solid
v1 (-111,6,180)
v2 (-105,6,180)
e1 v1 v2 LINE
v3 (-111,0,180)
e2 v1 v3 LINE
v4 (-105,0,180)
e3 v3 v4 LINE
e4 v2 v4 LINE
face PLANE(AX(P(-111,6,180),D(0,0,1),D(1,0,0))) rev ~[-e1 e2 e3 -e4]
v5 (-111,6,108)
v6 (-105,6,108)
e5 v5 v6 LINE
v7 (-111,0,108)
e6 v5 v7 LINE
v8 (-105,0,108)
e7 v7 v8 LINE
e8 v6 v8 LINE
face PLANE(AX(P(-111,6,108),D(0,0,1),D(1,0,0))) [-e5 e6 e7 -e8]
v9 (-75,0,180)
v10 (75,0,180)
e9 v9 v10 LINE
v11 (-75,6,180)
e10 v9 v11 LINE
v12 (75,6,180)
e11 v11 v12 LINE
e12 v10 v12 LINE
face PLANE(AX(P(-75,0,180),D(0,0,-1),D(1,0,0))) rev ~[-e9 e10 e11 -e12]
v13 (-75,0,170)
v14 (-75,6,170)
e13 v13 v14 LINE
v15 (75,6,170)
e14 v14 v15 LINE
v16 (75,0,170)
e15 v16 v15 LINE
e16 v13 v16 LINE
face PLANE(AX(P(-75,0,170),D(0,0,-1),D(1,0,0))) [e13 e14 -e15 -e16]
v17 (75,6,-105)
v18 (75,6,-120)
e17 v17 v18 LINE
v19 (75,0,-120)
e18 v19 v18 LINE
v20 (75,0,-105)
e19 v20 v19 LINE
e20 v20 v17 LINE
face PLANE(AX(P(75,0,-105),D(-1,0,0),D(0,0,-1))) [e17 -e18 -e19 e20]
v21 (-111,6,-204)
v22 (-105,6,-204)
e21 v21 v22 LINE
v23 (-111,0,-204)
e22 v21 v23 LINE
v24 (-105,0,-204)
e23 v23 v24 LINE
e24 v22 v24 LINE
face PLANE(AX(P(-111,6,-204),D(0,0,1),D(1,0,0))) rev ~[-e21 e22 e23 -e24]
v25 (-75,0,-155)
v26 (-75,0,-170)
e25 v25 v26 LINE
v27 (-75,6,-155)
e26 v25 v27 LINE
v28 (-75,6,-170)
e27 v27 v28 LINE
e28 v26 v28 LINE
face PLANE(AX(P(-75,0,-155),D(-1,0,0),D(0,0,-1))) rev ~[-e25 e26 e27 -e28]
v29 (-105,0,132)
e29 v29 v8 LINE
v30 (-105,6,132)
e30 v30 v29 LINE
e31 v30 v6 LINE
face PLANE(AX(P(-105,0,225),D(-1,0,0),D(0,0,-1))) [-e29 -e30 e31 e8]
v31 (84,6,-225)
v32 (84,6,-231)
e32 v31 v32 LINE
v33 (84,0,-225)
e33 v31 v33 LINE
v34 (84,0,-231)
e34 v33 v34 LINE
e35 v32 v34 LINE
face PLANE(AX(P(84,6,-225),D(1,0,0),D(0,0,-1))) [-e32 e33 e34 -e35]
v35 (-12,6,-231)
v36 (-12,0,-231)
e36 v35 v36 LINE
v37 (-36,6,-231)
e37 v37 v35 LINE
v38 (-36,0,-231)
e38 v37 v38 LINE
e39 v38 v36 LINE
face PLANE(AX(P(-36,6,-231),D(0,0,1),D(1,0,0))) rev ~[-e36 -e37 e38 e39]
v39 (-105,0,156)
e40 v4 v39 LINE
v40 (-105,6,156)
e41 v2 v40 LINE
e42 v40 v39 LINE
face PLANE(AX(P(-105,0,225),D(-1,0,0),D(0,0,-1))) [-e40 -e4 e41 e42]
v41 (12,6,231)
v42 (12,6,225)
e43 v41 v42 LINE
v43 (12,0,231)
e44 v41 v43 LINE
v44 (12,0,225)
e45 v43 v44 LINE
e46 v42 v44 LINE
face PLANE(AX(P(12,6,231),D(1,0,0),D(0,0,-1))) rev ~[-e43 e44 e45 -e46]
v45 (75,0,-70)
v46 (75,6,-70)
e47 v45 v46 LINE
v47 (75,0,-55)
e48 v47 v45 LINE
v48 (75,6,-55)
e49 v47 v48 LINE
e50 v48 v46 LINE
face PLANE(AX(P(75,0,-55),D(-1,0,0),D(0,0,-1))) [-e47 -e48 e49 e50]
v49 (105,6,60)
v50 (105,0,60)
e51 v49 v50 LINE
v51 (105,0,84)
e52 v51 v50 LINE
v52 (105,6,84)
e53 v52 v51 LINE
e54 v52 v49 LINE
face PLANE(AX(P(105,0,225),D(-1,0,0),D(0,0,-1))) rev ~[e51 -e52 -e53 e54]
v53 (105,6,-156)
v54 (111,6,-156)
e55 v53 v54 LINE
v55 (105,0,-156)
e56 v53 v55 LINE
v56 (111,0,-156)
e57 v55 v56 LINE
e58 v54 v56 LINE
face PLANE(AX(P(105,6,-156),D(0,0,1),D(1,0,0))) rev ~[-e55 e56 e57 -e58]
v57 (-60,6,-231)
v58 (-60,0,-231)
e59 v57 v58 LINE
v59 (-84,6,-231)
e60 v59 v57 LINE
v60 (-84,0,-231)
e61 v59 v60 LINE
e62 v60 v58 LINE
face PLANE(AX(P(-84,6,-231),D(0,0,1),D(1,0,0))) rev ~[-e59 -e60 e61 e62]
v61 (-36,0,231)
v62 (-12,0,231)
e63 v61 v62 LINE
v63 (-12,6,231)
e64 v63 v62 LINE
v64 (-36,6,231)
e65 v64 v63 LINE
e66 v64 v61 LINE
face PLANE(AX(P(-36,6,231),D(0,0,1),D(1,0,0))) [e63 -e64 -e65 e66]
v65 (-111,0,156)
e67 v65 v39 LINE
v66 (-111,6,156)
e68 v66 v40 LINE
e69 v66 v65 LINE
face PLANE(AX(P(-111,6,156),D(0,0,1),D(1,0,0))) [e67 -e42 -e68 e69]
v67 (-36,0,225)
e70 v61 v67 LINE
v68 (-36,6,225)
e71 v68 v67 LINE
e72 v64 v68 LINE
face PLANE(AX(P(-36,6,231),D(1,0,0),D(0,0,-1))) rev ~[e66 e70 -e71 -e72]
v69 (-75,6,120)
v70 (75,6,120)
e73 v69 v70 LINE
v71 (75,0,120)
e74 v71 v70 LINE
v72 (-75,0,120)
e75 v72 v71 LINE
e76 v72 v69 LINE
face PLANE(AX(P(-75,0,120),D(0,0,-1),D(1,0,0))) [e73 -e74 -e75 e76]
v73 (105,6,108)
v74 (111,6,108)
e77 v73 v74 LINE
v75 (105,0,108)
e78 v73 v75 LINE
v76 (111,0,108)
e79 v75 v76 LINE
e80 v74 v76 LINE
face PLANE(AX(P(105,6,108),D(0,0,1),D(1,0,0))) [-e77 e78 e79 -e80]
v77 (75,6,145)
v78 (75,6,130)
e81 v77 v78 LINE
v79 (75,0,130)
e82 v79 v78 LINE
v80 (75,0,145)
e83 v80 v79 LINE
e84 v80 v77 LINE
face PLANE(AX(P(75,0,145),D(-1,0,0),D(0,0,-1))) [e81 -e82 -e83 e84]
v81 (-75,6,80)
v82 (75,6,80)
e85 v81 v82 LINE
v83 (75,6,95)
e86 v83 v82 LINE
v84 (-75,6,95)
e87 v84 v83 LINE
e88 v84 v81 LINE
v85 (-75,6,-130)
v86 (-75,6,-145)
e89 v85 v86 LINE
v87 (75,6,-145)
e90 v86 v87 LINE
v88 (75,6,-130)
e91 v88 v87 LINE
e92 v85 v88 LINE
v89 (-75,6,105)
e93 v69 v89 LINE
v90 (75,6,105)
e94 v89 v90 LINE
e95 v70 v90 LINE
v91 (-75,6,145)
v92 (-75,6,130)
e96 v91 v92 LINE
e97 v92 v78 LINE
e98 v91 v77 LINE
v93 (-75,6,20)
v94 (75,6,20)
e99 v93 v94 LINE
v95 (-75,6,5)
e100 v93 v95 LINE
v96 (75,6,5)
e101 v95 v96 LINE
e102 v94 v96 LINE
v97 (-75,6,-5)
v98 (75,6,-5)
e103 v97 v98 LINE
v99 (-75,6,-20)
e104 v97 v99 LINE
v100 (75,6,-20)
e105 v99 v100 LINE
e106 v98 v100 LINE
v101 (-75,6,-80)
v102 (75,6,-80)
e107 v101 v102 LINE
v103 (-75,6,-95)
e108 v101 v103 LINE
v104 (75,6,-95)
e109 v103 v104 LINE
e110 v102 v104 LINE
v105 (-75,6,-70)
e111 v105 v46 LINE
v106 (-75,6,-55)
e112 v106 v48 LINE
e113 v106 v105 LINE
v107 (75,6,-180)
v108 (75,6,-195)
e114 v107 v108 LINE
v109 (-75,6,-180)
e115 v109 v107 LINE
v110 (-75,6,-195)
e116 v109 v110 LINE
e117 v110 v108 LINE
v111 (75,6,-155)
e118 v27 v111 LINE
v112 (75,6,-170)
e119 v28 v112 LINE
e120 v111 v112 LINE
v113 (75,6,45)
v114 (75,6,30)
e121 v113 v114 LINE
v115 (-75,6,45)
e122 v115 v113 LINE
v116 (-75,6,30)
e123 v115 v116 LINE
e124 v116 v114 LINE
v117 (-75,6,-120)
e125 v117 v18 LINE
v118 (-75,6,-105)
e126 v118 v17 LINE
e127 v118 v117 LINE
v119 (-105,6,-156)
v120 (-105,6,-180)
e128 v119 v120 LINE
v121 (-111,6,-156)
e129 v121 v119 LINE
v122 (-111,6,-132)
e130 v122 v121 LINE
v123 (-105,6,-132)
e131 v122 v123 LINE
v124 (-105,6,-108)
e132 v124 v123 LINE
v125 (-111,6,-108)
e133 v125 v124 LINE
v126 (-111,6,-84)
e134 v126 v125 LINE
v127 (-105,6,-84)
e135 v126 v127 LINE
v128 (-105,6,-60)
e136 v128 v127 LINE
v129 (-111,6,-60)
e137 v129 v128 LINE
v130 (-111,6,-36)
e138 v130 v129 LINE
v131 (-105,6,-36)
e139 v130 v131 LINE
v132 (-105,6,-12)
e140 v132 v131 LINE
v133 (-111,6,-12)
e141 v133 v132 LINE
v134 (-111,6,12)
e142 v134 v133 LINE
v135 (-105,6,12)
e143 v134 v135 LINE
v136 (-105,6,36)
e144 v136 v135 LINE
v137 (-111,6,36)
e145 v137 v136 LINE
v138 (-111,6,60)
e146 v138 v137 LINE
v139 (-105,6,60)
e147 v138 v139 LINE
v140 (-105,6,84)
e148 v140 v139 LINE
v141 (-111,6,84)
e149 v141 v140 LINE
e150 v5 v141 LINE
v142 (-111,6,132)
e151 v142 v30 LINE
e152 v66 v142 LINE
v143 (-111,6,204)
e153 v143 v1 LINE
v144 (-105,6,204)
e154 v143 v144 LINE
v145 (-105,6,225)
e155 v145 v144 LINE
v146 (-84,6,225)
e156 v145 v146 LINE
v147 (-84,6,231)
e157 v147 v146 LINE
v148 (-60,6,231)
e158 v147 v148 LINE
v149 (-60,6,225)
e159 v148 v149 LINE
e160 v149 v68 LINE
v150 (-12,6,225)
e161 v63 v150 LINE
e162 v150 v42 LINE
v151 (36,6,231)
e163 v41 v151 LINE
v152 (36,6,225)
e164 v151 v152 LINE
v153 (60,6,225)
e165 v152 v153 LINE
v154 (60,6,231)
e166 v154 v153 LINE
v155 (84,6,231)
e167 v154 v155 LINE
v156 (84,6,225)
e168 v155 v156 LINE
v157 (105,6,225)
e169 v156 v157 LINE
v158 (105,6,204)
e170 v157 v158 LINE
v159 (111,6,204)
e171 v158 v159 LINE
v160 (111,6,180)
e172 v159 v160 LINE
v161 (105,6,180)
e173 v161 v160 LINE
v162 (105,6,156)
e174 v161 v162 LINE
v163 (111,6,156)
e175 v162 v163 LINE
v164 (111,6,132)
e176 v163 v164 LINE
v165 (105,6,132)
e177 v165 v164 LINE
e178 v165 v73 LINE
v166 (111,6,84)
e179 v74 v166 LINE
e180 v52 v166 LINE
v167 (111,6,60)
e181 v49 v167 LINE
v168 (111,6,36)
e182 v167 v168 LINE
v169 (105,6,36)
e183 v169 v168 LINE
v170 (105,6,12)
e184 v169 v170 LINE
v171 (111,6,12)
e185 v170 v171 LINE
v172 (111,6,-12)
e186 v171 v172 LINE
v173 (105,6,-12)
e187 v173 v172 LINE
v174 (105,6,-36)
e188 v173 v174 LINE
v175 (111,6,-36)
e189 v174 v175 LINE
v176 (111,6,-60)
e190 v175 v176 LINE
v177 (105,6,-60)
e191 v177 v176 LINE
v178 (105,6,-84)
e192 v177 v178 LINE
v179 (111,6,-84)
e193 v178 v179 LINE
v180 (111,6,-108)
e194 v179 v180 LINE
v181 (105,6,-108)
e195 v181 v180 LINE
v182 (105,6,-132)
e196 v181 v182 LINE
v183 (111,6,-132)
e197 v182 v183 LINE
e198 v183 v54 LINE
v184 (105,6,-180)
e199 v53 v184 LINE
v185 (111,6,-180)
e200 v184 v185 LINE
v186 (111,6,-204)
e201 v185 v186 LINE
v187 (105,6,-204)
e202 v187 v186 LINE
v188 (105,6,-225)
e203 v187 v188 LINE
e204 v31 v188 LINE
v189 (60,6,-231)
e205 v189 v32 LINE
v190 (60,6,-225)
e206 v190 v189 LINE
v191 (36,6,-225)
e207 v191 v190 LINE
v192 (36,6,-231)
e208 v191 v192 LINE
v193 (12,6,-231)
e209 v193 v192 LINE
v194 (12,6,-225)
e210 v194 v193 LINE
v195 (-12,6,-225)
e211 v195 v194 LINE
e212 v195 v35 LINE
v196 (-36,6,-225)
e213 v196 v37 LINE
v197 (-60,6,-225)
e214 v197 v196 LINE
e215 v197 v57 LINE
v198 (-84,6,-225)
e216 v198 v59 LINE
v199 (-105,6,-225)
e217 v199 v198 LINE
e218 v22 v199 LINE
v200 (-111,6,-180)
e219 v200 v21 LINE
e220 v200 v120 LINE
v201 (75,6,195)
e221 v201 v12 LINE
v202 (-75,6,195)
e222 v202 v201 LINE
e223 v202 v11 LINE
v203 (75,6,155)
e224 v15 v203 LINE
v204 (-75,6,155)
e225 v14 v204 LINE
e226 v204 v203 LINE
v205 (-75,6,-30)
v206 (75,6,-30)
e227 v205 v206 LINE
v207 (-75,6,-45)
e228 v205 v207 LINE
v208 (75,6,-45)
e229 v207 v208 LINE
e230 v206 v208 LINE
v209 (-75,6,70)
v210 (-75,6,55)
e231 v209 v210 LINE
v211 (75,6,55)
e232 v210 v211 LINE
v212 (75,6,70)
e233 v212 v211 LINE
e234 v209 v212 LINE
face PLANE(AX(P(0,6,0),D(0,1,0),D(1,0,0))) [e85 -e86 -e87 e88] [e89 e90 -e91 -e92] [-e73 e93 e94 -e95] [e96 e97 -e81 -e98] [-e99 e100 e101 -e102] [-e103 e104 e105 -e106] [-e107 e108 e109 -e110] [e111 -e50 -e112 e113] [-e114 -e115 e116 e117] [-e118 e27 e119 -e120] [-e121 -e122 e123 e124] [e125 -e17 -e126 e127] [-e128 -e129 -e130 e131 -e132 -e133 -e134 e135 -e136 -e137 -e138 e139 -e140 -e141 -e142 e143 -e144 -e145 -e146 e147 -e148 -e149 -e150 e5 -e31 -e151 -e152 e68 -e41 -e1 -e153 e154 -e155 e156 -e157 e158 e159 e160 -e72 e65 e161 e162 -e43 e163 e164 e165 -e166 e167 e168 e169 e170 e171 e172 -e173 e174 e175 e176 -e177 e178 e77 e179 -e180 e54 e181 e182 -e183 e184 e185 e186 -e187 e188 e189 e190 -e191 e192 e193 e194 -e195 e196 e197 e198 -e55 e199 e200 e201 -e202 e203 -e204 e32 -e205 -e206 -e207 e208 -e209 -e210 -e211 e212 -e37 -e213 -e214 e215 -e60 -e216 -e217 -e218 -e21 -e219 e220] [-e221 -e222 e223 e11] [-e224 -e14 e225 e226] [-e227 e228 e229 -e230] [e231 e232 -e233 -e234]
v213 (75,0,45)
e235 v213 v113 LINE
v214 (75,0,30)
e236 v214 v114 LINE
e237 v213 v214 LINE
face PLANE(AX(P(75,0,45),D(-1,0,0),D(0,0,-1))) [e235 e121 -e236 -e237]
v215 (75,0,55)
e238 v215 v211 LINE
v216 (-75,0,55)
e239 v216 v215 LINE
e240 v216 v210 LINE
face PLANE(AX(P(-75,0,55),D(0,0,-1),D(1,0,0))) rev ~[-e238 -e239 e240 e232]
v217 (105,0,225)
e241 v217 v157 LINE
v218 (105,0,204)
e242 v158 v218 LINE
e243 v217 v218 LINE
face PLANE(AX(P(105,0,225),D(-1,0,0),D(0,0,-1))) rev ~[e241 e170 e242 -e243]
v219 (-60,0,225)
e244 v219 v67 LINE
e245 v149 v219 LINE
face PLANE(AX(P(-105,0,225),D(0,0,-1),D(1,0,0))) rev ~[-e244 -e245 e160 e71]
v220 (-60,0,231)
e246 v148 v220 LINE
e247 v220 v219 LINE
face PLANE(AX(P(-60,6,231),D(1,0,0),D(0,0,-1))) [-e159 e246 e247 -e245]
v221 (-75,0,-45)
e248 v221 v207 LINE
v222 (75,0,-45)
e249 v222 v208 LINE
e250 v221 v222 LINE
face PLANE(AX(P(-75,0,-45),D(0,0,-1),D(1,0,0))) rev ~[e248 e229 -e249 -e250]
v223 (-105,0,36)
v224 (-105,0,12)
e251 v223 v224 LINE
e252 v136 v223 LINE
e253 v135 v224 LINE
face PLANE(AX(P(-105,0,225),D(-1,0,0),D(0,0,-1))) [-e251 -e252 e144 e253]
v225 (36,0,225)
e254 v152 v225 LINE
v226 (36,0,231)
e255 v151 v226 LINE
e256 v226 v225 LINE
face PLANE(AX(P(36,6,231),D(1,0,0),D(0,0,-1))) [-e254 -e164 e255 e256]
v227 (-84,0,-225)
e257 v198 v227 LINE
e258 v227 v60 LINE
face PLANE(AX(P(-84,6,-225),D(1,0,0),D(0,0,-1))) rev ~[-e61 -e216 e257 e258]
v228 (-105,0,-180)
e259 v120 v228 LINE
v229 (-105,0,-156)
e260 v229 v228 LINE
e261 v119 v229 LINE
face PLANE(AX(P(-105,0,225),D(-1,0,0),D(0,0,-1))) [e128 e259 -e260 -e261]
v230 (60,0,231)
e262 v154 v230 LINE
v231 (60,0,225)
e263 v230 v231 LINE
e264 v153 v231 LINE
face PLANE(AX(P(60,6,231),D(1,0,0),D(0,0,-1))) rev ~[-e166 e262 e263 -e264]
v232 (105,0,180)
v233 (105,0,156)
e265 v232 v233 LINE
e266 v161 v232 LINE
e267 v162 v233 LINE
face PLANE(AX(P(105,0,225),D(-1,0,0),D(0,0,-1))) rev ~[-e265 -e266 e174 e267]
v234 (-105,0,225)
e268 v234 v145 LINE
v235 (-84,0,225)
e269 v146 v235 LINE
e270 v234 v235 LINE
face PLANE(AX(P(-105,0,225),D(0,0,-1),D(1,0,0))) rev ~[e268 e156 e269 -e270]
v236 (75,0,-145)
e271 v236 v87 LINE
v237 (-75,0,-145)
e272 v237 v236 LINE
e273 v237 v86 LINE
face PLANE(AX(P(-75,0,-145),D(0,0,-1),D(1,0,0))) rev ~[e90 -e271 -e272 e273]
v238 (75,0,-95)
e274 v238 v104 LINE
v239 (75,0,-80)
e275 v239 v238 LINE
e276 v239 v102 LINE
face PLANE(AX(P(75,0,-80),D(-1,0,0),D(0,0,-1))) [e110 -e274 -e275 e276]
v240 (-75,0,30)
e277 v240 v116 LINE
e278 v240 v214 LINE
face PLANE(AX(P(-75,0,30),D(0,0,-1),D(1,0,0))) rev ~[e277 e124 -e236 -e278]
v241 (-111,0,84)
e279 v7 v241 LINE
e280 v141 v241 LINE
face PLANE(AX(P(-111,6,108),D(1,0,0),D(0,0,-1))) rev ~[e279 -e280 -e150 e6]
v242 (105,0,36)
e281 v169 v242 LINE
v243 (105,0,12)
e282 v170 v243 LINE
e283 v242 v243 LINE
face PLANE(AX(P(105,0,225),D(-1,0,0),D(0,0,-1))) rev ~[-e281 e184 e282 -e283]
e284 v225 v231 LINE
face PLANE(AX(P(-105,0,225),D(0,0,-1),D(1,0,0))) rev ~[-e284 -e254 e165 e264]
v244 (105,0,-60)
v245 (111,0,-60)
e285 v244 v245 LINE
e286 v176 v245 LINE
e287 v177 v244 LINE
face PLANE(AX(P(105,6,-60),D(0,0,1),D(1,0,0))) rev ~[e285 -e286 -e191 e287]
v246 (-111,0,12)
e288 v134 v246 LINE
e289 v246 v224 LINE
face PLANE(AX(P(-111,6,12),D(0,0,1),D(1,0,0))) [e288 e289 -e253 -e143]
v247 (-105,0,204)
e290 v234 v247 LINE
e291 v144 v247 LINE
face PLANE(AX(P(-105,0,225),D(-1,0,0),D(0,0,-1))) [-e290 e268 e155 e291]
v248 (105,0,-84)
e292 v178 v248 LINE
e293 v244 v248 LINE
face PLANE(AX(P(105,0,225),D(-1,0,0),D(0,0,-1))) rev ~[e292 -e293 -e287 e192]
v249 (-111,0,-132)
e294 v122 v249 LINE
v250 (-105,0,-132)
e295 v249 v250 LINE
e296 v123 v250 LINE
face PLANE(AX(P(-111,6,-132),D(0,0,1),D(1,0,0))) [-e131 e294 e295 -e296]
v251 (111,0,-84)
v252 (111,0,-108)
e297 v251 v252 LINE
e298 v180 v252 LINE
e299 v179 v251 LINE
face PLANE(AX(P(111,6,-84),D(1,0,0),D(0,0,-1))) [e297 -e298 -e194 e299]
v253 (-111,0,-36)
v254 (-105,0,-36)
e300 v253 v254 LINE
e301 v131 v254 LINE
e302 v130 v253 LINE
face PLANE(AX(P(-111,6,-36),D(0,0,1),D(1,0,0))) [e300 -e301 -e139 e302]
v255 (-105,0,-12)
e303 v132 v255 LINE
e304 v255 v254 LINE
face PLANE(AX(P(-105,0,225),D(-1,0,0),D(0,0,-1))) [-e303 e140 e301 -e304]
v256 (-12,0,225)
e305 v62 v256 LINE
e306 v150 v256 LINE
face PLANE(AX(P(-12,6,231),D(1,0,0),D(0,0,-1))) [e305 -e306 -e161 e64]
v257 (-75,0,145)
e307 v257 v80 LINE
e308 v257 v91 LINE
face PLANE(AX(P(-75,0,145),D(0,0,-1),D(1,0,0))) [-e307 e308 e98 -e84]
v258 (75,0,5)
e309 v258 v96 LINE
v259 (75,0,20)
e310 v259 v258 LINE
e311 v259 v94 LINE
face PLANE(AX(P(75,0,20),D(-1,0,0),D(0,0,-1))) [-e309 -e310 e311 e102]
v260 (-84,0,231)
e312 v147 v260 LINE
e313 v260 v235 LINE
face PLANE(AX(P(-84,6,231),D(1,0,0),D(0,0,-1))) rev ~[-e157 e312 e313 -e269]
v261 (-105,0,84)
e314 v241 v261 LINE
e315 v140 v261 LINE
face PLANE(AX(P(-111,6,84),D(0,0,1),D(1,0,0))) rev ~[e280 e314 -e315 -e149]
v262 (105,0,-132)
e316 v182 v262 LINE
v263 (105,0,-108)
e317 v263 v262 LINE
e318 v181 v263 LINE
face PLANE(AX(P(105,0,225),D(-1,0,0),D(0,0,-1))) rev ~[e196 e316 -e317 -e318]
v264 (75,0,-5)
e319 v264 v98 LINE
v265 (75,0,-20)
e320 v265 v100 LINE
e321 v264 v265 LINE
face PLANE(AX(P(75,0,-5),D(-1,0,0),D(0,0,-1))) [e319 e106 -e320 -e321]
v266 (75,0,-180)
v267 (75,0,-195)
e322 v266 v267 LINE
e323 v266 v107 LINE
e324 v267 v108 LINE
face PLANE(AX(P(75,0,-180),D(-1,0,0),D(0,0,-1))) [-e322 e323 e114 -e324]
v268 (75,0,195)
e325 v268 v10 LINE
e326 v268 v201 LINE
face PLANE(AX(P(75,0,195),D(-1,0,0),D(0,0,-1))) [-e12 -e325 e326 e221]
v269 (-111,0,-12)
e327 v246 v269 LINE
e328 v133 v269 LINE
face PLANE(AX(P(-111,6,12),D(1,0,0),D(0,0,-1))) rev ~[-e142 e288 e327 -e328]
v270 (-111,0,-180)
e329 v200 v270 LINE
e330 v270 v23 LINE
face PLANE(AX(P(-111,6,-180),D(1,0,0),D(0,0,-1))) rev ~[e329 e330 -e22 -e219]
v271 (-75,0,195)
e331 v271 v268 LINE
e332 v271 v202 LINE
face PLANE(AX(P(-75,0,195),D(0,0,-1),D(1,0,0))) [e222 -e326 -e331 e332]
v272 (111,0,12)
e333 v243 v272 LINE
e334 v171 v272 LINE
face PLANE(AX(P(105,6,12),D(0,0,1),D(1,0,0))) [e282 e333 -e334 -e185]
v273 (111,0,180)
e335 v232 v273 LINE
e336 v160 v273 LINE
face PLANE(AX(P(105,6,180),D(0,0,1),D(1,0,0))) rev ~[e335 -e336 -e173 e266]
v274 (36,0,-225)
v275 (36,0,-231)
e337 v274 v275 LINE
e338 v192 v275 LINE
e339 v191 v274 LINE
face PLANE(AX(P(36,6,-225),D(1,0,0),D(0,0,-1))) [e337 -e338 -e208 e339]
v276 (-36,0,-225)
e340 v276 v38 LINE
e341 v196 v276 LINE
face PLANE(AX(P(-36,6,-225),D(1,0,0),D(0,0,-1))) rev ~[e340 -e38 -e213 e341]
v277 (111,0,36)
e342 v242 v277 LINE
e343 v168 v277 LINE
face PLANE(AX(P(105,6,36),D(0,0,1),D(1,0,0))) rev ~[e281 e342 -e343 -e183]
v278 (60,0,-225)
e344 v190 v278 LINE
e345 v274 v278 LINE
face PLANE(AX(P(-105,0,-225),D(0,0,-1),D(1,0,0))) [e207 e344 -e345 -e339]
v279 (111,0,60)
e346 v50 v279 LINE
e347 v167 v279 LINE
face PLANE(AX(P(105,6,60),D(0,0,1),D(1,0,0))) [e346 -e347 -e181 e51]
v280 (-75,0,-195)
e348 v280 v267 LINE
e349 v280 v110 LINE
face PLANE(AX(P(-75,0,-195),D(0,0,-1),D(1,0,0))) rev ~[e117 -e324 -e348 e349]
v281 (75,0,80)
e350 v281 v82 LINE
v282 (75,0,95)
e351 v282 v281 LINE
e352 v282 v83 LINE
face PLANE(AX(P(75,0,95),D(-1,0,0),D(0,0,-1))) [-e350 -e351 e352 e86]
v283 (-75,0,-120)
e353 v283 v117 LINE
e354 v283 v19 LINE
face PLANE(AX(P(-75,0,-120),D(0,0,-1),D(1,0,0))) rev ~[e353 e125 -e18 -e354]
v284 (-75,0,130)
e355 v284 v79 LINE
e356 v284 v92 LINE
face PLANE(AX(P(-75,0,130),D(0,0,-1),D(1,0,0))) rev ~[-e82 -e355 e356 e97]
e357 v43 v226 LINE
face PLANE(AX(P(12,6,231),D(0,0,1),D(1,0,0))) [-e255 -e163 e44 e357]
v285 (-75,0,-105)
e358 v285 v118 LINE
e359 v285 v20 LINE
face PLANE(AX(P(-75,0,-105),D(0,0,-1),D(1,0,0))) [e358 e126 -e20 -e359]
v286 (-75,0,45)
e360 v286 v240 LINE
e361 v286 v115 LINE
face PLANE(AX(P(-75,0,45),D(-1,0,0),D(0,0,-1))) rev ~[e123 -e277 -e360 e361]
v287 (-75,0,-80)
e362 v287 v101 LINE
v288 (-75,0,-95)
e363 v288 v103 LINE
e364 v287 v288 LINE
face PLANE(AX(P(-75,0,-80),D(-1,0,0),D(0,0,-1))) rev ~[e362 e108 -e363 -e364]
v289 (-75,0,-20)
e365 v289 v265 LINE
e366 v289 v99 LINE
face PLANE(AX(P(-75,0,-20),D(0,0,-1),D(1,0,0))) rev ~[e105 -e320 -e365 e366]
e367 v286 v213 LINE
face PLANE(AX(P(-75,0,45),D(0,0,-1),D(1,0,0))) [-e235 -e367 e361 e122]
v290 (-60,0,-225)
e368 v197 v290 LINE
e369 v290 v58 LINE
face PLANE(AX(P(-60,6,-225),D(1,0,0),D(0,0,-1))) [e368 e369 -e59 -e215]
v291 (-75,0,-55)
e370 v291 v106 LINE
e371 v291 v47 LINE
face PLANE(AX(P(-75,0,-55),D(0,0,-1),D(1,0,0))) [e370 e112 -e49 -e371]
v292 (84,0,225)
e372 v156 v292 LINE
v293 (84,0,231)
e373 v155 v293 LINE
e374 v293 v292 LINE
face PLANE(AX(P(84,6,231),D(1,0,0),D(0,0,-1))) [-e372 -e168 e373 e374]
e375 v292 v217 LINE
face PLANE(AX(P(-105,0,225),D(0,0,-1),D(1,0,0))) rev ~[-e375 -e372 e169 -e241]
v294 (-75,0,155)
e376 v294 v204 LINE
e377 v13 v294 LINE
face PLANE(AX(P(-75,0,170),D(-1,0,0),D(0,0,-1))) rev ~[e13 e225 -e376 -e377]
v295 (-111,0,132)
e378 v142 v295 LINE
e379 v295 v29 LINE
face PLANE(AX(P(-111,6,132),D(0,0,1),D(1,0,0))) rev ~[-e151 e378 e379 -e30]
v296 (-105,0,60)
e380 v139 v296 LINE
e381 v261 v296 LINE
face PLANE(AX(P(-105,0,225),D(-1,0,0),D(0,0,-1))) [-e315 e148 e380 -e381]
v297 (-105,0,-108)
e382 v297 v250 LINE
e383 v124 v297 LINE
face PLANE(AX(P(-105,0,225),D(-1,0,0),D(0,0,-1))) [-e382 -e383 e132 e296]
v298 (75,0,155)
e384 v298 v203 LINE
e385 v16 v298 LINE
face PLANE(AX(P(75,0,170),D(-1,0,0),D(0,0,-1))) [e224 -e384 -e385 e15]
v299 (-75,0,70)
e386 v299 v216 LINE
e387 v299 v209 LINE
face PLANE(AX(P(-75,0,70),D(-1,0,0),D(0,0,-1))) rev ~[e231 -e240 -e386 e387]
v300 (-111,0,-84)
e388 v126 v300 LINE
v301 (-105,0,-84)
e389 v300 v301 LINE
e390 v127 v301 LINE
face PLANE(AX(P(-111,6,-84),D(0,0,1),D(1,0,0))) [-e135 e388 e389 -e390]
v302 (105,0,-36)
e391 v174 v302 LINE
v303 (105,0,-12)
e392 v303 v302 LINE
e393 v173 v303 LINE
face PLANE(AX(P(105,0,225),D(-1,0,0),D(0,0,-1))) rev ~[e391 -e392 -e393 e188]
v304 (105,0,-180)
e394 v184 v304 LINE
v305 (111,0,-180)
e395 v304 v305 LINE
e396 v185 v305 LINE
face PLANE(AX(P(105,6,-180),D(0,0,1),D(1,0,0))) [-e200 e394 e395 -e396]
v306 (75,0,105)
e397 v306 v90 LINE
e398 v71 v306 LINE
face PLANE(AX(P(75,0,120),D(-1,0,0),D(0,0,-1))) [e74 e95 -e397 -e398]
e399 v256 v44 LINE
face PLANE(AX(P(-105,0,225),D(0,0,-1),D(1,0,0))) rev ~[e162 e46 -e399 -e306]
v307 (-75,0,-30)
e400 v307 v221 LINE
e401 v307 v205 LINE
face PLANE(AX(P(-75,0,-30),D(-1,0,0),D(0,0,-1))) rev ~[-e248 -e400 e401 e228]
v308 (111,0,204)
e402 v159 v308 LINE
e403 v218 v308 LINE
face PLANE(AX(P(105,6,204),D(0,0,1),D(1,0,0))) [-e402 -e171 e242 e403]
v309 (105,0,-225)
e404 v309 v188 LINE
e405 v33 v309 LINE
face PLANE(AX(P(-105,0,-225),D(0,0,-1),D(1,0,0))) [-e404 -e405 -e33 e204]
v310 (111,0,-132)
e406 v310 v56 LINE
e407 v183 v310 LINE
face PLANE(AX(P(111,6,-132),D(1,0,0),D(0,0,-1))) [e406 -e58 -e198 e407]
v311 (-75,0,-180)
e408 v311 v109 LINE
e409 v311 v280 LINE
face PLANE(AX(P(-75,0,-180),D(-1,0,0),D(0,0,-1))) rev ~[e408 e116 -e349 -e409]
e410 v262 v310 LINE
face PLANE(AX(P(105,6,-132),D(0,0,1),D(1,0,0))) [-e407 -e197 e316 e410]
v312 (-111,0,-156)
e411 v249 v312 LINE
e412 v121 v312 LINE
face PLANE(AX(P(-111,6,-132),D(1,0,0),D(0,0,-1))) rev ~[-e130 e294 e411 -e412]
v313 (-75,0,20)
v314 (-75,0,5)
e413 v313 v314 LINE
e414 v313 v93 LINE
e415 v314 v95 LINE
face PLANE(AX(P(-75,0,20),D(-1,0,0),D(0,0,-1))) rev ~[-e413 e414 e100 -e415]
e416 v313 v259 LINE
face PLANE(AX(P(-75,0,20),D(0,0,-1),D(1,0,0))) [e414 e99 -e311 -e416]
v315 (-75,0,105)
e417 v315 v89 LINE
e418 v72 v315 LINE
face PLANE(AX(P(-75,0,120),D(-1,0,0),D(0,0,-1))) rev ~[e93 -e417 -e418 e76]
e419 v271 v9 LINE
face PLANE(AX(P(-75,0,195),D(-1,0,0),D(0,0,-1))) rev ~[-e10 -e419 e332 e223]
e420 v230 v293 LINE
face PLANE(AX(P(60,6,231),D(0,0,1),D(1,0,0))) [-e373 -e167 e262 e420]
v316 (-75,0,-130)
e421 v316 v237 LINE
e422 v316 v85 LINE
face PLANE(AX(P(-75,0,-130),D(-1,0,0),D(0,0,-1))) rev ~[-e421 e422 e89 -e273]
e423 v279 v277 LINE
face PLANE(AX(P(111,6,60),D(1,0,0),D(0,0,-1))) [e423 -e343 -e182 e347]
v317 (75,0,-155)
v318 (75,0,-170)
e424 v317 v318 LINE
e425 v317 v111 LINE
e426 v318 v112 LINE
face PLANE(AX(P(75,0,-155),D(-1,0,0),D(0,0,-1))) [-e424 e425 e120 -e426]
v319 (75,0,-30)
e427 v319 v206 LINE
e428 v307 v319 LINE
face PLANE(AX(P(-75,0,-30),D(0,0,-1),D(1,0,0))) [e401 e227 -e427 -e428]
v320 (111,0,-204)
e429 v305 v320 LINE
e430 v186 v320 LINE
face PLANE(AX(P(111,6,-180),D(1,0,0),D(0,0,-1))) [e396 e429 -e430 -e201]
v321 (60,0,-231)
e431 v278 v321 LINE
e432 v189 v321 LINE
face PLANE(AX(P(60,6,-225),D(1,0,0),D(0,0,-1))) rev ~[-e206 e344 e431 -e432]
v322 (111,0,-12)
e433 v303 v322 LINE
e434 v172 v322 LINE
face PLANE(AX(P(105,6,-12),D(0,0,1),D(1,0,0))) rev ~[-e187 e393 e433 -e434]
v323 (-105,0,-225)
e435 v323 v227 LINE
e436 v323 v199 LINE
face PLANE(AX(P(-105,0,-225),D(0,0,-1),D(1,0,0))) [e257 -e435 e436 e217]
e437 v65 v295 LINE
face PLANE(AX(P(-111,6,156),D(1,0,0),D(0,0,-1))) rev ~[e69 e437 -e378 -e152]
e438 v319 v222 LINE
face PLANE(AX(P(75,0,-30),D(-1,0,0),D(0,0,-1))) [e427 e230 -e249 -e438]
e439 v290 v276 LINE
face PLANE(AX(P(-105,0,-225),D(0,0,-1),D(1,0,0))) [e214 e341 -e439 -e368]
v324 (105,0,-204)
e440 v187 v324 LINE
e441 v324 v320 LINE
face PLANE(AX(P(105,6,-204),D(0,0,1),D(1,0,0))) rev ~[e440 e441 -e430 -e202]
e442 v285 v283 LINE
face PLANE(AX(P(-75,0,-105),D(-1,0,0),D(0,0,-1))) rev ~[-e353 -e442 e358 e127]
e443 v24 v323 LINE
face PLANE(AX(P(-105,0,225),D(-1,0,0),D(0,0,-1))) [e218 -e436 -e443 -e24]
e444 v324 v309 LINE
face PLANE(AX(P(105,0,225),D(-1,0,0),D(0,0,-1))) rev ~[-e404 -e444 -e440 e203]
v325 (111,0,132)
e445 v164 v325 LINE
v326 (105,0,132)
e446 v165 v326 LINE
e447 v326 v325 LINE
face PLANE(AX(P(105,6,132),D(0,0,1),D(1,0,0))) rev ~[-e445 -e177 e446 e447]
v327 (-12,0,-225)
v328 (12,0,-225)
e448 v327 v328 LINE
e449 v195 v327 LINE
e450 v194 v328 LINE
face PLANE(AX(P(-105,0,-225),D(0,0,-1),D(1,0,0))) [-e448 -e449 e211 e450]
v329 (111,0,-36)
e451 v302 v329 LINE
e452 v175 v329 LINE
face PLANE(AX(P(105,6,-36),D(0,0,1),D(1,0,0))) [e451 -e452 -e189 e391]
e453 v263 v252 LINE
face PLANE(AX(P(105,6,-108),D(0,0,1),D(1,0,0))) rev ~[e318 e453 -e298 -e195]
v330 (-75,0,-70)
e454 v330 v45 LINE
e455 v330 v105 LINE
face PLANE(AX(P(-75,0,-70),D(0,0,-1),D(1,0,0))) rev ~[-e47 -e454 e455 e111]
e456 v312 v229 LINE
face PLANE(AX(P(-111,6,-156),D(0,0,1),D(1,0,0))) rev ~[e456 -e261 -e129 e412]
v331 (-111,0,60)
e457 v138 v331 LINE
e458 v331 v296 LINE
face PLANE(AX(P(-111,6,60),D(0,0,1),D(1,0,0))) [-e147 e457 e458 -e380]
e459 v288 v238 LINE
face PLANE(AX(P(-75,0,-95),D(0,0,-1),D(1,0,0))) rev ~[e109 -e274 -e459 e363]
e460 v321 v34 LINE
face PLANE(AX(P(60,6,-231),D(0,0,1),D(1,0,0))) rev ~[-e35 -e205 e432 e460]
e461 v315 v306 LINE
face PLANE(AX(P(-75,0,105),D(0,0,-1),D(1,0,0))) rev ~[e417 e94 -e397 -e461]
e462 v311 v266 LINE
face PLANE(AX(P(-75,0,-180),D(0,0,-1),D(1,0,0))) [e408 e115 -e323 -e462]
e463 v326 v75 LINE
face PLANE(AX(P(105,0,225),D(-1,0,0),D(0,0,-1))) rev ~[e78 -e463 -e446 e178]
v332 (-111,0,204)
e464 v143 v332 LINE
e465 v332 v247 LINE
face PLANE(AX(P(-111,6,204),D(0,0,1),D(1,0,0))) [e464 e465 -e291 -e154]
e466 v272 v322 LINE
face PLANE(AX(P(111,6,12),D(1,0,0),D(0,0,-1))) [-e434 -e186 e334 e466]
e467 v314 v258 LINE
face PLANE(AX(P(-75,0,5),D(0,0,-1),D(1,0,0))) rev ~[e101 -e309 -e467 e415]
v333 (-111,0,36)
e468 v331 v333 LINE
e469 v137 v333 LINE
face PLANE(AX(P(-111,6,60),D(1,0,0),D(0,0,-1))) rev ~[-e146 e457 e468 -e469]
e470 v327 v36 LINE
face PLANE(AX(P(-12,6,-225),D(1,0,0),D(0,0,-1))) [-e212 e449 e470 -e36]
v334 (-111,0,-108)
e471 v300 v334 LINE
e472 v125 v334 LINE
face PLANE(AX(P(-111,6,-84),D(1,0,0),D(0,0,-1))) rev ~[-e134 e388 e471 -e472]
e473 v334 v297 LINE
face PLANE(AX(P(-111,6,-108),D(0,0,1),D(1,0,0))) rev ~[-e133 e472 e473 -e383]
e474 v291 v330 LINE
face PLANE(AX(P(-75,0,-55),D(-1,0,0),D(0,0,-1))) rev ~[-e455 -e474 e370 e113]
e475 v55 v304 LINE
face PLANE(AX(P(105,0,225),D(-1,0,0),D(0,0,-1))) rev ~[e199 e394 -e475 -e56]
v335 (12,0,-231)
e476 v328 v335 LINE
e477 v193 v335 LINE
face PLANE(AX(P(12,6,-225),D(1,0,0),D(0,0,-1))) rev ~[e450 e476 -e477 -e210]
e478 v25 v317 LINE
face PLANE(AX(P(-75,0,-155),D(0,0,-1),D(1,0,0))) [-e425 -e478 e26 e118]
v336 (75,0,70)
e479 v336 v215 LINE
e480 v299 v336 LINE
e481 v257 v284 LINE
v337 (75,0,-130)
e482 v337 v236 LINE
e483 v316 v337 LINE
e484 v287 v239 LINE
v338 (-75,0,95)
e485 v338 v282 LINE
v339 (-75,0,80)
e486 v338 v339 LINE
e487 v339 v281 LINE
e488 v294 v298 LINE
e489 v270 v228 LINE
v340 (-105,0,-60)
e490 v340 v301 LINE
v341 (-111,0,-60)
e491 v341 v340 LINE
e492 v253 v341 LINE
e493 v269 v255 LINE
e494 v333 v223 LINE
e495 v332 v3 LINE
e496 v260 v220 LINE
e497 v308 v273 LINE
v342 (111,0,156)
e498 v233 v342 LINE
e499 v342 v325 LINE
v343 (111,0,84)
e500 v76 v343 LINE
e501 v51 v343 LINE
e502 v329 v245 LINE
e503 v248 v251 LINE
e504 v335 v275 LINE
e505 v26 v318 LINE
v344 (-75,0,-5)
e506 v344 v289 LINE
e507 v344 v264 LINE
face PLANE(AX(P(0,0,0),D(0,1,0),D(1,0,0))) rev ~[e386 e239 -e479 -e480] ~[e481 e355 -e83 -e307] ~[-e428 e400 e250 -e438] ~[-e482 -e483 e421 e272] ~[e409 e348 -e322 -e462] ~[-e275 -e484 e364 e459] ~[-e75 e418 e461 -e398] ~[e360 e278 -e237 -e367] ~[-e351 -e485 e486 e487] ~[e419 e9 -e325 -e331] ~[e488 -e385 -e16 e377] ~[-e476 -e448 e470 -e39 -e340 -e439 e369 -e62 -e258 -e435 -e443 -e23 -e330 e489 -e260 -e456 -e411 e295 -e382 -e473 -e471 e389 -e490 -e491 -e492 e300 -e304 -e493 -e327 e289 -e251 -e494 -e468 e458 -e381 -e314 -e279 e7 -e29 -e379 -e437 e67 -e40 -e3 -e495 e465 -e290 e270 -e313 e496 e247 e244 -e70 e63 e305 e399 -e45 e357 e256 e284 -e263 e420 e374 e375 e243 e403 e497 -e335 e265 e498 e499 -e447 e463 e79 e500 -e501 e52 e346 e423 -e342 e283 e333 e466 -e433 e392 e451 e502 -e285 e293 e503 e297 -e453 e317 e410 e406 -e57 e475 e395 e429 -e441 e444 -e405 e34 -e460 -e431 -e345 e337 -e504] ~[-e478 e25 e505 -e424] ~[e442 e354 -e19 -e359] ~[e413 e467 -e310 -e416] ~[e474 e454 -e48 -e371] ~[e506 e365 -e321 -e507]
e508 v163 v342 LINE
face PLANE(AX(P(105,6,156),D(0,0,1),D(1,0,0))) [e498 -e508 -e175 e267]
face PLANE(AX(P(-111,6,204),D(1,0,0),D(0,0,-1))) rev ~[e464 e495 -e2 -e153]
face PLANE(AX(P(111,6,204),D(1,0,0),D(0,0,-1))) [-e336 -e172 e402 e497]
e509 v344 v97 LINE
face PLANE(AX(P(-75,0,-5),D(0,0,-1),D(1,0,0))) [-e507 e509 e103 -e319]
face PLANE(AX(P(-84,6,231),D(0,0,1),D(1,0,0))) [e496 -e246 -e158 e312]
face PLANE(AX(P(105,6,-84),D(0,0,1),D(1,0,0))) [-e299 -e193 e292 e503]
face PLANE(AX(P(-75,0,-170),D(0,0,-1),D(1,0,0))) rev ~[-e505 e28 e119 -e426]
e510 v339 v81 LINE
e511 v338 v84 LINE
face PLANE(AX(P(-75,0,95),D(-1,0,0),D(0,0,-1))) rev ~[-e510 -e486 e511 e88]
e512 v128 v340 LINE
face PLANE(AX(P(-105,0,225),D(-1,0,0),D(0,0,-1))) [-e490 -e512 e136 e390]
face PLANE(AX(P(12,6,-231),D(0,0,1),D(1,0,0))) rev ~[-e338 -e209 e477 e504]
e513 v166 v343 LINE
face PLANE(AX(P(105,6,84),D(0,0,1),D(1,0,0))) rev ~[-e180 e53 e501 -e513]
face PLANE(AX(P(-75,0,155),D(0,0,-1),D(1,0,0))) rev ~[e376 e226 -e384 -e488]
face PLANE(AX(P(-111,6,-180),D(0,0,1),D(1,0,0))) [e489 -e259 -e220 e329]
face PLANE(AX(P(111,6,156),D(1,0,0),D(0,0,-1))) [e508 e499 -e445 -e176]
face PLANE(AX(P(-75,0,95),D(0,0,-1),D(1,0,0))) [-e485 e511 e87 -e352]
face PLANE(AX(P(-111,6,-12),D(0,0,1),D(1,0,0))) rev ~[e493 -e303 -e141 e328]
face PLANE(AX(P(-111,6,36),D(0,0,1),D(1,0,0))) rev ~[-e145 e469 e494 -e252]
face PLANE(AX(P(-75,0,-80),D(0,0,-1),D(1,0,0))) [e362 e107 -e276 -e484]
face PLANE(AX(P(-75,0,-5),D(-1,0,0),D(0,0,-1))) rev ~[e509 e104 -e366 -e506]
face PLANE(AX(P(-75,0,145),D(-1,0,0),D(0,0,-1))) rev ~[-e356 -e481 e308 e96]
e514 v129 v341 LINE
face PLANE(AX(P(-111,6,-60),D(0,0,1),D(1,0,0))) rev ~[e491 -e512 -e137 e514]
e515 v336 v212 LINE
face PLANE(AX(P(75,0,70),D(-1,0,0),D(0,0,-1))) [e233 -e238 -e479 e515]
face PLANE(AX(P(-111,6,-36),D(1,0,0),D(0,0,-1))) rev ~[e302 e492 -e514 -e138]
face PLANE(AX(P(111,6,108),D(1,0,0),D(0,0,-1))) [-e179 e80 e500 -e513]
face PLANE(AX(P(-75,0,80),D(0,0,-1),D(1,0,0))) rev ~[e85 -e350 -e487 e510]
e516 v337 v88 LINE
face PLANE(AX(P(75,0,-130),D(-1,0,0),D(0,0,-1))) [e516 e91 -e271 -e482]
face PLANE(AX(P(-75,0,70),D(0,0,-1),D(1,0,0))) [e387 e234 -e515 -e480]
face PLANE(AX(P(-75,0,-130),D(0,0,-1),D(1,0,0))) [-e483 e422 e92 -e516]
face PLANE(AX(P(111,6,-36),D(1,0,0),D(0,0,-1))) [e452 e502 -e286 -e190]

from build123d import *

# Parameters (mm, degrees)
SKETCH1_W           = 210
SKETCH1_H           = 450
SKETCH1_W_2         = 150
SKETCH1_H_2         = 15
BOSS_EXTRUDE1_DEPTH = 6
SKETCH3_W           = 6
SKETCH3_H           = 24
BOSS_EXTRUDE3_DEPTH = 6
SKETCH2_W           = 24
SKETCH2_H           = 6
BOSS_EXTRUDE4_DEPTH = 6


with BuildPart() as part:
    # Sketch1 → Boss-Extrude1 (new body)
    with BuildSketch(Plane(origin=(0, 0, 0), x_dir=(1, 0, 0), z_dir=(0, 1, 0))):
        Rectangle(SKETCH1_W, SKETCH1_H)
        with Locations((0, -162.5)):
            Rectangle(SKETCH1_W_2, SKETCH1_H_2, mode=Mode.SUBTRACT)
        with Locations((0, -187.5)):
            Rectangle(SKETCH1_W_2, SKETCH1_H_2, mode=Mode.SUBTRACT)
        with Locations((0, -137.5)):
            Rectangle(SKETCH1_W_2, SKETCH1_H_2, mode=Mode.SUBTRACT)
        with Locations((0, -112.5)):
            Rectangle(SKETCH1_W_2, SKETCH1_H_2, mode=Mode.SUBTRACT)
        with Locations((0, -87.5)):
            Rectangle(SKETCH1_W_2, SKETCH1_H_2, mode=Mode.SUBTRACT)
        with Locations((0, -62.5)):
            Rectangle(SKETCH1_W_2, SKETCH1_H_2, mode=Mode.SUBTRACT)
        with Locations((0, -37.5)):
            Rectangle(SKETCH1_W_2, SKETCH1_H_2, mode=Mode.SUBTRACT)
        with Locations((0, -12.5)):
            Rectangle(SKETCH1_W_2, SKETCH1_H_2, mode=Mode.SUBTRACT)
        with Locations((0, 12.5)):
            Rectangle(SKETCH1_W_2, SKETCH1_H_2, mode=Mode.SUBTRACT)
        with Locations((0, 37.5)):
            Rectangle(SKETCH1_W_2, SKETCH1_H_2, mode=Mode.SUBTRACT)
        with Locations((0, 62.5)):
            Rectangle(SKETCH1_W_2, SKETCH1_H_2, mode=Mode.SUBTRACT)
        with Locations((0, 87.5)):
            Rectangle(SKETCH1_W_2, SKETCH1_H_2, mode=Mode.SUBTRACT)
        with Locations((0, 112.5)):
            Rectangle(SKETCH1_W_2, SKETCH1_H_2, mode=Mode.SUBTRACT)
        with Locations((0, 137.5)):
            Rectangle(SKETCH1_W_2, SKETCH1_H_2, mode=Mode.SUBTRACT)
        with Locations((0, 162.5)):
            Rectangle(SKETCH1_W_2, SKETCH1_H_2, mode=Mode.SUBTRACT)
        with Locations((0, 187.5)):
            Rectangle(SKETCH1_W_2, SKETCH1_H_2, mode=Mode.SUBTRACT)
    extrude(amount=BOSS_EXTRUDE1_DEPTH)

    # Sketch3 → Boss-Extrude3 (add)
    with BuildSketch(Plane(origin=(0, 6, 0), x_dir=(1, 0, 0), z_dir=(0, 1, 0))):
        with Locations((-108, 192)):
            Rectangle(SKETCH3_W, SKETCH3_H)
        with Locations((108, 192)):
            Rectangle(SKETCH3_W, SKETCH3_H)
        with Locations((108, 144)):
            Rectangle(SKETCH3_W, SKETCH3_H)
        with Locations((108, 96)):
            Rectangle(SKETCH3_W, SKETCH3_H)
        with Locations((108, 48)):
            Rectangle(SKETCH3_W, SKETCH3_H)
        with Locations((108, 0)):
            Rectangle(SKETCH3_W, SKETCH3_H)
        with Locations((108, -48)):
            Rectangle(SKETCH3_W, SKETCH3_H)
        with Locations((108, -96)):
            Rectangle(SKETCH3_W, SKETCH3_H)
        with Locations((108, -144)):
            Rectangle(SKETCH3_W, SKETCH3_H)
        with Locations((108, -192)):
            Rectangle(SKETCH3_W, SKETCH3_H)
        with Locations((-108, 144)):
            Rectangle(SKETCH3_W, SKETCH3_H)
        with Locations((-108, 96)):
            Rectangle(SKETCH3_W, SKETCH3_H)
        with Locations((-108, 48)):
            Rectangle(SKETCH3_W, SKETCH3_H)
        with Locations((-108, 0)):
            Rectangle(SKETCH3_W, SKETCH3_H)
        with Locations((-108, -48)):
            Rectangle(SKETCH3_W, SKETCH3_H)
        with Locations((-108, -96)):
            Rectangle(SKETCH3_W, SKETCH3_H)
        with Locations((-108, -144)):
            Rectangle(SKETCH3_W, SKETCH3_H)
        with Locations((-108, -192)):
            Rectangle(SKETCH3_W, SKETCH3_H)
    extrude(amount=-BOSS_EXTRUDE3_DEPTH)

    # Sketch2 → Boss-Extrude4 (add)
    with BuildSketch(Plane(origin=(0, 6, 0), x_dir=(1, 0, 0), z_dir=(0, 1, 0))):
        with Locations((-72, 228)):
            Rectangle(SKETCH2_W, SKETCH2_H)
        with Locations((-24, 228)):
            Rectangle(SKETCH2_W, SKETCH2_H)
        with Locations((24, 228)):
            Rectangle(SKETCH2_W, SKETCH2_H)
        with Locations((72, 228)):
            Rectangle(SKETCH2_W, SKETCH2_H)
        with Locations((-72, -228)):
            Rectangle(SKETCH2_W, SKETCH2_H)
        with Locations((-24, -228)):
            Rectangle(SKETCH2_W, SKETCH2_H)
        with Locations((24, -228)):
            Rectangle(SKETCH2_W, SKETCH2_H)
        with Locations((72, -228)):
            Rectangle(SKETCH2_W, SKETCH2_H)
    extrude(amount=-BOSS_EXTRUDE4_DEPTH)


solid = part.part
